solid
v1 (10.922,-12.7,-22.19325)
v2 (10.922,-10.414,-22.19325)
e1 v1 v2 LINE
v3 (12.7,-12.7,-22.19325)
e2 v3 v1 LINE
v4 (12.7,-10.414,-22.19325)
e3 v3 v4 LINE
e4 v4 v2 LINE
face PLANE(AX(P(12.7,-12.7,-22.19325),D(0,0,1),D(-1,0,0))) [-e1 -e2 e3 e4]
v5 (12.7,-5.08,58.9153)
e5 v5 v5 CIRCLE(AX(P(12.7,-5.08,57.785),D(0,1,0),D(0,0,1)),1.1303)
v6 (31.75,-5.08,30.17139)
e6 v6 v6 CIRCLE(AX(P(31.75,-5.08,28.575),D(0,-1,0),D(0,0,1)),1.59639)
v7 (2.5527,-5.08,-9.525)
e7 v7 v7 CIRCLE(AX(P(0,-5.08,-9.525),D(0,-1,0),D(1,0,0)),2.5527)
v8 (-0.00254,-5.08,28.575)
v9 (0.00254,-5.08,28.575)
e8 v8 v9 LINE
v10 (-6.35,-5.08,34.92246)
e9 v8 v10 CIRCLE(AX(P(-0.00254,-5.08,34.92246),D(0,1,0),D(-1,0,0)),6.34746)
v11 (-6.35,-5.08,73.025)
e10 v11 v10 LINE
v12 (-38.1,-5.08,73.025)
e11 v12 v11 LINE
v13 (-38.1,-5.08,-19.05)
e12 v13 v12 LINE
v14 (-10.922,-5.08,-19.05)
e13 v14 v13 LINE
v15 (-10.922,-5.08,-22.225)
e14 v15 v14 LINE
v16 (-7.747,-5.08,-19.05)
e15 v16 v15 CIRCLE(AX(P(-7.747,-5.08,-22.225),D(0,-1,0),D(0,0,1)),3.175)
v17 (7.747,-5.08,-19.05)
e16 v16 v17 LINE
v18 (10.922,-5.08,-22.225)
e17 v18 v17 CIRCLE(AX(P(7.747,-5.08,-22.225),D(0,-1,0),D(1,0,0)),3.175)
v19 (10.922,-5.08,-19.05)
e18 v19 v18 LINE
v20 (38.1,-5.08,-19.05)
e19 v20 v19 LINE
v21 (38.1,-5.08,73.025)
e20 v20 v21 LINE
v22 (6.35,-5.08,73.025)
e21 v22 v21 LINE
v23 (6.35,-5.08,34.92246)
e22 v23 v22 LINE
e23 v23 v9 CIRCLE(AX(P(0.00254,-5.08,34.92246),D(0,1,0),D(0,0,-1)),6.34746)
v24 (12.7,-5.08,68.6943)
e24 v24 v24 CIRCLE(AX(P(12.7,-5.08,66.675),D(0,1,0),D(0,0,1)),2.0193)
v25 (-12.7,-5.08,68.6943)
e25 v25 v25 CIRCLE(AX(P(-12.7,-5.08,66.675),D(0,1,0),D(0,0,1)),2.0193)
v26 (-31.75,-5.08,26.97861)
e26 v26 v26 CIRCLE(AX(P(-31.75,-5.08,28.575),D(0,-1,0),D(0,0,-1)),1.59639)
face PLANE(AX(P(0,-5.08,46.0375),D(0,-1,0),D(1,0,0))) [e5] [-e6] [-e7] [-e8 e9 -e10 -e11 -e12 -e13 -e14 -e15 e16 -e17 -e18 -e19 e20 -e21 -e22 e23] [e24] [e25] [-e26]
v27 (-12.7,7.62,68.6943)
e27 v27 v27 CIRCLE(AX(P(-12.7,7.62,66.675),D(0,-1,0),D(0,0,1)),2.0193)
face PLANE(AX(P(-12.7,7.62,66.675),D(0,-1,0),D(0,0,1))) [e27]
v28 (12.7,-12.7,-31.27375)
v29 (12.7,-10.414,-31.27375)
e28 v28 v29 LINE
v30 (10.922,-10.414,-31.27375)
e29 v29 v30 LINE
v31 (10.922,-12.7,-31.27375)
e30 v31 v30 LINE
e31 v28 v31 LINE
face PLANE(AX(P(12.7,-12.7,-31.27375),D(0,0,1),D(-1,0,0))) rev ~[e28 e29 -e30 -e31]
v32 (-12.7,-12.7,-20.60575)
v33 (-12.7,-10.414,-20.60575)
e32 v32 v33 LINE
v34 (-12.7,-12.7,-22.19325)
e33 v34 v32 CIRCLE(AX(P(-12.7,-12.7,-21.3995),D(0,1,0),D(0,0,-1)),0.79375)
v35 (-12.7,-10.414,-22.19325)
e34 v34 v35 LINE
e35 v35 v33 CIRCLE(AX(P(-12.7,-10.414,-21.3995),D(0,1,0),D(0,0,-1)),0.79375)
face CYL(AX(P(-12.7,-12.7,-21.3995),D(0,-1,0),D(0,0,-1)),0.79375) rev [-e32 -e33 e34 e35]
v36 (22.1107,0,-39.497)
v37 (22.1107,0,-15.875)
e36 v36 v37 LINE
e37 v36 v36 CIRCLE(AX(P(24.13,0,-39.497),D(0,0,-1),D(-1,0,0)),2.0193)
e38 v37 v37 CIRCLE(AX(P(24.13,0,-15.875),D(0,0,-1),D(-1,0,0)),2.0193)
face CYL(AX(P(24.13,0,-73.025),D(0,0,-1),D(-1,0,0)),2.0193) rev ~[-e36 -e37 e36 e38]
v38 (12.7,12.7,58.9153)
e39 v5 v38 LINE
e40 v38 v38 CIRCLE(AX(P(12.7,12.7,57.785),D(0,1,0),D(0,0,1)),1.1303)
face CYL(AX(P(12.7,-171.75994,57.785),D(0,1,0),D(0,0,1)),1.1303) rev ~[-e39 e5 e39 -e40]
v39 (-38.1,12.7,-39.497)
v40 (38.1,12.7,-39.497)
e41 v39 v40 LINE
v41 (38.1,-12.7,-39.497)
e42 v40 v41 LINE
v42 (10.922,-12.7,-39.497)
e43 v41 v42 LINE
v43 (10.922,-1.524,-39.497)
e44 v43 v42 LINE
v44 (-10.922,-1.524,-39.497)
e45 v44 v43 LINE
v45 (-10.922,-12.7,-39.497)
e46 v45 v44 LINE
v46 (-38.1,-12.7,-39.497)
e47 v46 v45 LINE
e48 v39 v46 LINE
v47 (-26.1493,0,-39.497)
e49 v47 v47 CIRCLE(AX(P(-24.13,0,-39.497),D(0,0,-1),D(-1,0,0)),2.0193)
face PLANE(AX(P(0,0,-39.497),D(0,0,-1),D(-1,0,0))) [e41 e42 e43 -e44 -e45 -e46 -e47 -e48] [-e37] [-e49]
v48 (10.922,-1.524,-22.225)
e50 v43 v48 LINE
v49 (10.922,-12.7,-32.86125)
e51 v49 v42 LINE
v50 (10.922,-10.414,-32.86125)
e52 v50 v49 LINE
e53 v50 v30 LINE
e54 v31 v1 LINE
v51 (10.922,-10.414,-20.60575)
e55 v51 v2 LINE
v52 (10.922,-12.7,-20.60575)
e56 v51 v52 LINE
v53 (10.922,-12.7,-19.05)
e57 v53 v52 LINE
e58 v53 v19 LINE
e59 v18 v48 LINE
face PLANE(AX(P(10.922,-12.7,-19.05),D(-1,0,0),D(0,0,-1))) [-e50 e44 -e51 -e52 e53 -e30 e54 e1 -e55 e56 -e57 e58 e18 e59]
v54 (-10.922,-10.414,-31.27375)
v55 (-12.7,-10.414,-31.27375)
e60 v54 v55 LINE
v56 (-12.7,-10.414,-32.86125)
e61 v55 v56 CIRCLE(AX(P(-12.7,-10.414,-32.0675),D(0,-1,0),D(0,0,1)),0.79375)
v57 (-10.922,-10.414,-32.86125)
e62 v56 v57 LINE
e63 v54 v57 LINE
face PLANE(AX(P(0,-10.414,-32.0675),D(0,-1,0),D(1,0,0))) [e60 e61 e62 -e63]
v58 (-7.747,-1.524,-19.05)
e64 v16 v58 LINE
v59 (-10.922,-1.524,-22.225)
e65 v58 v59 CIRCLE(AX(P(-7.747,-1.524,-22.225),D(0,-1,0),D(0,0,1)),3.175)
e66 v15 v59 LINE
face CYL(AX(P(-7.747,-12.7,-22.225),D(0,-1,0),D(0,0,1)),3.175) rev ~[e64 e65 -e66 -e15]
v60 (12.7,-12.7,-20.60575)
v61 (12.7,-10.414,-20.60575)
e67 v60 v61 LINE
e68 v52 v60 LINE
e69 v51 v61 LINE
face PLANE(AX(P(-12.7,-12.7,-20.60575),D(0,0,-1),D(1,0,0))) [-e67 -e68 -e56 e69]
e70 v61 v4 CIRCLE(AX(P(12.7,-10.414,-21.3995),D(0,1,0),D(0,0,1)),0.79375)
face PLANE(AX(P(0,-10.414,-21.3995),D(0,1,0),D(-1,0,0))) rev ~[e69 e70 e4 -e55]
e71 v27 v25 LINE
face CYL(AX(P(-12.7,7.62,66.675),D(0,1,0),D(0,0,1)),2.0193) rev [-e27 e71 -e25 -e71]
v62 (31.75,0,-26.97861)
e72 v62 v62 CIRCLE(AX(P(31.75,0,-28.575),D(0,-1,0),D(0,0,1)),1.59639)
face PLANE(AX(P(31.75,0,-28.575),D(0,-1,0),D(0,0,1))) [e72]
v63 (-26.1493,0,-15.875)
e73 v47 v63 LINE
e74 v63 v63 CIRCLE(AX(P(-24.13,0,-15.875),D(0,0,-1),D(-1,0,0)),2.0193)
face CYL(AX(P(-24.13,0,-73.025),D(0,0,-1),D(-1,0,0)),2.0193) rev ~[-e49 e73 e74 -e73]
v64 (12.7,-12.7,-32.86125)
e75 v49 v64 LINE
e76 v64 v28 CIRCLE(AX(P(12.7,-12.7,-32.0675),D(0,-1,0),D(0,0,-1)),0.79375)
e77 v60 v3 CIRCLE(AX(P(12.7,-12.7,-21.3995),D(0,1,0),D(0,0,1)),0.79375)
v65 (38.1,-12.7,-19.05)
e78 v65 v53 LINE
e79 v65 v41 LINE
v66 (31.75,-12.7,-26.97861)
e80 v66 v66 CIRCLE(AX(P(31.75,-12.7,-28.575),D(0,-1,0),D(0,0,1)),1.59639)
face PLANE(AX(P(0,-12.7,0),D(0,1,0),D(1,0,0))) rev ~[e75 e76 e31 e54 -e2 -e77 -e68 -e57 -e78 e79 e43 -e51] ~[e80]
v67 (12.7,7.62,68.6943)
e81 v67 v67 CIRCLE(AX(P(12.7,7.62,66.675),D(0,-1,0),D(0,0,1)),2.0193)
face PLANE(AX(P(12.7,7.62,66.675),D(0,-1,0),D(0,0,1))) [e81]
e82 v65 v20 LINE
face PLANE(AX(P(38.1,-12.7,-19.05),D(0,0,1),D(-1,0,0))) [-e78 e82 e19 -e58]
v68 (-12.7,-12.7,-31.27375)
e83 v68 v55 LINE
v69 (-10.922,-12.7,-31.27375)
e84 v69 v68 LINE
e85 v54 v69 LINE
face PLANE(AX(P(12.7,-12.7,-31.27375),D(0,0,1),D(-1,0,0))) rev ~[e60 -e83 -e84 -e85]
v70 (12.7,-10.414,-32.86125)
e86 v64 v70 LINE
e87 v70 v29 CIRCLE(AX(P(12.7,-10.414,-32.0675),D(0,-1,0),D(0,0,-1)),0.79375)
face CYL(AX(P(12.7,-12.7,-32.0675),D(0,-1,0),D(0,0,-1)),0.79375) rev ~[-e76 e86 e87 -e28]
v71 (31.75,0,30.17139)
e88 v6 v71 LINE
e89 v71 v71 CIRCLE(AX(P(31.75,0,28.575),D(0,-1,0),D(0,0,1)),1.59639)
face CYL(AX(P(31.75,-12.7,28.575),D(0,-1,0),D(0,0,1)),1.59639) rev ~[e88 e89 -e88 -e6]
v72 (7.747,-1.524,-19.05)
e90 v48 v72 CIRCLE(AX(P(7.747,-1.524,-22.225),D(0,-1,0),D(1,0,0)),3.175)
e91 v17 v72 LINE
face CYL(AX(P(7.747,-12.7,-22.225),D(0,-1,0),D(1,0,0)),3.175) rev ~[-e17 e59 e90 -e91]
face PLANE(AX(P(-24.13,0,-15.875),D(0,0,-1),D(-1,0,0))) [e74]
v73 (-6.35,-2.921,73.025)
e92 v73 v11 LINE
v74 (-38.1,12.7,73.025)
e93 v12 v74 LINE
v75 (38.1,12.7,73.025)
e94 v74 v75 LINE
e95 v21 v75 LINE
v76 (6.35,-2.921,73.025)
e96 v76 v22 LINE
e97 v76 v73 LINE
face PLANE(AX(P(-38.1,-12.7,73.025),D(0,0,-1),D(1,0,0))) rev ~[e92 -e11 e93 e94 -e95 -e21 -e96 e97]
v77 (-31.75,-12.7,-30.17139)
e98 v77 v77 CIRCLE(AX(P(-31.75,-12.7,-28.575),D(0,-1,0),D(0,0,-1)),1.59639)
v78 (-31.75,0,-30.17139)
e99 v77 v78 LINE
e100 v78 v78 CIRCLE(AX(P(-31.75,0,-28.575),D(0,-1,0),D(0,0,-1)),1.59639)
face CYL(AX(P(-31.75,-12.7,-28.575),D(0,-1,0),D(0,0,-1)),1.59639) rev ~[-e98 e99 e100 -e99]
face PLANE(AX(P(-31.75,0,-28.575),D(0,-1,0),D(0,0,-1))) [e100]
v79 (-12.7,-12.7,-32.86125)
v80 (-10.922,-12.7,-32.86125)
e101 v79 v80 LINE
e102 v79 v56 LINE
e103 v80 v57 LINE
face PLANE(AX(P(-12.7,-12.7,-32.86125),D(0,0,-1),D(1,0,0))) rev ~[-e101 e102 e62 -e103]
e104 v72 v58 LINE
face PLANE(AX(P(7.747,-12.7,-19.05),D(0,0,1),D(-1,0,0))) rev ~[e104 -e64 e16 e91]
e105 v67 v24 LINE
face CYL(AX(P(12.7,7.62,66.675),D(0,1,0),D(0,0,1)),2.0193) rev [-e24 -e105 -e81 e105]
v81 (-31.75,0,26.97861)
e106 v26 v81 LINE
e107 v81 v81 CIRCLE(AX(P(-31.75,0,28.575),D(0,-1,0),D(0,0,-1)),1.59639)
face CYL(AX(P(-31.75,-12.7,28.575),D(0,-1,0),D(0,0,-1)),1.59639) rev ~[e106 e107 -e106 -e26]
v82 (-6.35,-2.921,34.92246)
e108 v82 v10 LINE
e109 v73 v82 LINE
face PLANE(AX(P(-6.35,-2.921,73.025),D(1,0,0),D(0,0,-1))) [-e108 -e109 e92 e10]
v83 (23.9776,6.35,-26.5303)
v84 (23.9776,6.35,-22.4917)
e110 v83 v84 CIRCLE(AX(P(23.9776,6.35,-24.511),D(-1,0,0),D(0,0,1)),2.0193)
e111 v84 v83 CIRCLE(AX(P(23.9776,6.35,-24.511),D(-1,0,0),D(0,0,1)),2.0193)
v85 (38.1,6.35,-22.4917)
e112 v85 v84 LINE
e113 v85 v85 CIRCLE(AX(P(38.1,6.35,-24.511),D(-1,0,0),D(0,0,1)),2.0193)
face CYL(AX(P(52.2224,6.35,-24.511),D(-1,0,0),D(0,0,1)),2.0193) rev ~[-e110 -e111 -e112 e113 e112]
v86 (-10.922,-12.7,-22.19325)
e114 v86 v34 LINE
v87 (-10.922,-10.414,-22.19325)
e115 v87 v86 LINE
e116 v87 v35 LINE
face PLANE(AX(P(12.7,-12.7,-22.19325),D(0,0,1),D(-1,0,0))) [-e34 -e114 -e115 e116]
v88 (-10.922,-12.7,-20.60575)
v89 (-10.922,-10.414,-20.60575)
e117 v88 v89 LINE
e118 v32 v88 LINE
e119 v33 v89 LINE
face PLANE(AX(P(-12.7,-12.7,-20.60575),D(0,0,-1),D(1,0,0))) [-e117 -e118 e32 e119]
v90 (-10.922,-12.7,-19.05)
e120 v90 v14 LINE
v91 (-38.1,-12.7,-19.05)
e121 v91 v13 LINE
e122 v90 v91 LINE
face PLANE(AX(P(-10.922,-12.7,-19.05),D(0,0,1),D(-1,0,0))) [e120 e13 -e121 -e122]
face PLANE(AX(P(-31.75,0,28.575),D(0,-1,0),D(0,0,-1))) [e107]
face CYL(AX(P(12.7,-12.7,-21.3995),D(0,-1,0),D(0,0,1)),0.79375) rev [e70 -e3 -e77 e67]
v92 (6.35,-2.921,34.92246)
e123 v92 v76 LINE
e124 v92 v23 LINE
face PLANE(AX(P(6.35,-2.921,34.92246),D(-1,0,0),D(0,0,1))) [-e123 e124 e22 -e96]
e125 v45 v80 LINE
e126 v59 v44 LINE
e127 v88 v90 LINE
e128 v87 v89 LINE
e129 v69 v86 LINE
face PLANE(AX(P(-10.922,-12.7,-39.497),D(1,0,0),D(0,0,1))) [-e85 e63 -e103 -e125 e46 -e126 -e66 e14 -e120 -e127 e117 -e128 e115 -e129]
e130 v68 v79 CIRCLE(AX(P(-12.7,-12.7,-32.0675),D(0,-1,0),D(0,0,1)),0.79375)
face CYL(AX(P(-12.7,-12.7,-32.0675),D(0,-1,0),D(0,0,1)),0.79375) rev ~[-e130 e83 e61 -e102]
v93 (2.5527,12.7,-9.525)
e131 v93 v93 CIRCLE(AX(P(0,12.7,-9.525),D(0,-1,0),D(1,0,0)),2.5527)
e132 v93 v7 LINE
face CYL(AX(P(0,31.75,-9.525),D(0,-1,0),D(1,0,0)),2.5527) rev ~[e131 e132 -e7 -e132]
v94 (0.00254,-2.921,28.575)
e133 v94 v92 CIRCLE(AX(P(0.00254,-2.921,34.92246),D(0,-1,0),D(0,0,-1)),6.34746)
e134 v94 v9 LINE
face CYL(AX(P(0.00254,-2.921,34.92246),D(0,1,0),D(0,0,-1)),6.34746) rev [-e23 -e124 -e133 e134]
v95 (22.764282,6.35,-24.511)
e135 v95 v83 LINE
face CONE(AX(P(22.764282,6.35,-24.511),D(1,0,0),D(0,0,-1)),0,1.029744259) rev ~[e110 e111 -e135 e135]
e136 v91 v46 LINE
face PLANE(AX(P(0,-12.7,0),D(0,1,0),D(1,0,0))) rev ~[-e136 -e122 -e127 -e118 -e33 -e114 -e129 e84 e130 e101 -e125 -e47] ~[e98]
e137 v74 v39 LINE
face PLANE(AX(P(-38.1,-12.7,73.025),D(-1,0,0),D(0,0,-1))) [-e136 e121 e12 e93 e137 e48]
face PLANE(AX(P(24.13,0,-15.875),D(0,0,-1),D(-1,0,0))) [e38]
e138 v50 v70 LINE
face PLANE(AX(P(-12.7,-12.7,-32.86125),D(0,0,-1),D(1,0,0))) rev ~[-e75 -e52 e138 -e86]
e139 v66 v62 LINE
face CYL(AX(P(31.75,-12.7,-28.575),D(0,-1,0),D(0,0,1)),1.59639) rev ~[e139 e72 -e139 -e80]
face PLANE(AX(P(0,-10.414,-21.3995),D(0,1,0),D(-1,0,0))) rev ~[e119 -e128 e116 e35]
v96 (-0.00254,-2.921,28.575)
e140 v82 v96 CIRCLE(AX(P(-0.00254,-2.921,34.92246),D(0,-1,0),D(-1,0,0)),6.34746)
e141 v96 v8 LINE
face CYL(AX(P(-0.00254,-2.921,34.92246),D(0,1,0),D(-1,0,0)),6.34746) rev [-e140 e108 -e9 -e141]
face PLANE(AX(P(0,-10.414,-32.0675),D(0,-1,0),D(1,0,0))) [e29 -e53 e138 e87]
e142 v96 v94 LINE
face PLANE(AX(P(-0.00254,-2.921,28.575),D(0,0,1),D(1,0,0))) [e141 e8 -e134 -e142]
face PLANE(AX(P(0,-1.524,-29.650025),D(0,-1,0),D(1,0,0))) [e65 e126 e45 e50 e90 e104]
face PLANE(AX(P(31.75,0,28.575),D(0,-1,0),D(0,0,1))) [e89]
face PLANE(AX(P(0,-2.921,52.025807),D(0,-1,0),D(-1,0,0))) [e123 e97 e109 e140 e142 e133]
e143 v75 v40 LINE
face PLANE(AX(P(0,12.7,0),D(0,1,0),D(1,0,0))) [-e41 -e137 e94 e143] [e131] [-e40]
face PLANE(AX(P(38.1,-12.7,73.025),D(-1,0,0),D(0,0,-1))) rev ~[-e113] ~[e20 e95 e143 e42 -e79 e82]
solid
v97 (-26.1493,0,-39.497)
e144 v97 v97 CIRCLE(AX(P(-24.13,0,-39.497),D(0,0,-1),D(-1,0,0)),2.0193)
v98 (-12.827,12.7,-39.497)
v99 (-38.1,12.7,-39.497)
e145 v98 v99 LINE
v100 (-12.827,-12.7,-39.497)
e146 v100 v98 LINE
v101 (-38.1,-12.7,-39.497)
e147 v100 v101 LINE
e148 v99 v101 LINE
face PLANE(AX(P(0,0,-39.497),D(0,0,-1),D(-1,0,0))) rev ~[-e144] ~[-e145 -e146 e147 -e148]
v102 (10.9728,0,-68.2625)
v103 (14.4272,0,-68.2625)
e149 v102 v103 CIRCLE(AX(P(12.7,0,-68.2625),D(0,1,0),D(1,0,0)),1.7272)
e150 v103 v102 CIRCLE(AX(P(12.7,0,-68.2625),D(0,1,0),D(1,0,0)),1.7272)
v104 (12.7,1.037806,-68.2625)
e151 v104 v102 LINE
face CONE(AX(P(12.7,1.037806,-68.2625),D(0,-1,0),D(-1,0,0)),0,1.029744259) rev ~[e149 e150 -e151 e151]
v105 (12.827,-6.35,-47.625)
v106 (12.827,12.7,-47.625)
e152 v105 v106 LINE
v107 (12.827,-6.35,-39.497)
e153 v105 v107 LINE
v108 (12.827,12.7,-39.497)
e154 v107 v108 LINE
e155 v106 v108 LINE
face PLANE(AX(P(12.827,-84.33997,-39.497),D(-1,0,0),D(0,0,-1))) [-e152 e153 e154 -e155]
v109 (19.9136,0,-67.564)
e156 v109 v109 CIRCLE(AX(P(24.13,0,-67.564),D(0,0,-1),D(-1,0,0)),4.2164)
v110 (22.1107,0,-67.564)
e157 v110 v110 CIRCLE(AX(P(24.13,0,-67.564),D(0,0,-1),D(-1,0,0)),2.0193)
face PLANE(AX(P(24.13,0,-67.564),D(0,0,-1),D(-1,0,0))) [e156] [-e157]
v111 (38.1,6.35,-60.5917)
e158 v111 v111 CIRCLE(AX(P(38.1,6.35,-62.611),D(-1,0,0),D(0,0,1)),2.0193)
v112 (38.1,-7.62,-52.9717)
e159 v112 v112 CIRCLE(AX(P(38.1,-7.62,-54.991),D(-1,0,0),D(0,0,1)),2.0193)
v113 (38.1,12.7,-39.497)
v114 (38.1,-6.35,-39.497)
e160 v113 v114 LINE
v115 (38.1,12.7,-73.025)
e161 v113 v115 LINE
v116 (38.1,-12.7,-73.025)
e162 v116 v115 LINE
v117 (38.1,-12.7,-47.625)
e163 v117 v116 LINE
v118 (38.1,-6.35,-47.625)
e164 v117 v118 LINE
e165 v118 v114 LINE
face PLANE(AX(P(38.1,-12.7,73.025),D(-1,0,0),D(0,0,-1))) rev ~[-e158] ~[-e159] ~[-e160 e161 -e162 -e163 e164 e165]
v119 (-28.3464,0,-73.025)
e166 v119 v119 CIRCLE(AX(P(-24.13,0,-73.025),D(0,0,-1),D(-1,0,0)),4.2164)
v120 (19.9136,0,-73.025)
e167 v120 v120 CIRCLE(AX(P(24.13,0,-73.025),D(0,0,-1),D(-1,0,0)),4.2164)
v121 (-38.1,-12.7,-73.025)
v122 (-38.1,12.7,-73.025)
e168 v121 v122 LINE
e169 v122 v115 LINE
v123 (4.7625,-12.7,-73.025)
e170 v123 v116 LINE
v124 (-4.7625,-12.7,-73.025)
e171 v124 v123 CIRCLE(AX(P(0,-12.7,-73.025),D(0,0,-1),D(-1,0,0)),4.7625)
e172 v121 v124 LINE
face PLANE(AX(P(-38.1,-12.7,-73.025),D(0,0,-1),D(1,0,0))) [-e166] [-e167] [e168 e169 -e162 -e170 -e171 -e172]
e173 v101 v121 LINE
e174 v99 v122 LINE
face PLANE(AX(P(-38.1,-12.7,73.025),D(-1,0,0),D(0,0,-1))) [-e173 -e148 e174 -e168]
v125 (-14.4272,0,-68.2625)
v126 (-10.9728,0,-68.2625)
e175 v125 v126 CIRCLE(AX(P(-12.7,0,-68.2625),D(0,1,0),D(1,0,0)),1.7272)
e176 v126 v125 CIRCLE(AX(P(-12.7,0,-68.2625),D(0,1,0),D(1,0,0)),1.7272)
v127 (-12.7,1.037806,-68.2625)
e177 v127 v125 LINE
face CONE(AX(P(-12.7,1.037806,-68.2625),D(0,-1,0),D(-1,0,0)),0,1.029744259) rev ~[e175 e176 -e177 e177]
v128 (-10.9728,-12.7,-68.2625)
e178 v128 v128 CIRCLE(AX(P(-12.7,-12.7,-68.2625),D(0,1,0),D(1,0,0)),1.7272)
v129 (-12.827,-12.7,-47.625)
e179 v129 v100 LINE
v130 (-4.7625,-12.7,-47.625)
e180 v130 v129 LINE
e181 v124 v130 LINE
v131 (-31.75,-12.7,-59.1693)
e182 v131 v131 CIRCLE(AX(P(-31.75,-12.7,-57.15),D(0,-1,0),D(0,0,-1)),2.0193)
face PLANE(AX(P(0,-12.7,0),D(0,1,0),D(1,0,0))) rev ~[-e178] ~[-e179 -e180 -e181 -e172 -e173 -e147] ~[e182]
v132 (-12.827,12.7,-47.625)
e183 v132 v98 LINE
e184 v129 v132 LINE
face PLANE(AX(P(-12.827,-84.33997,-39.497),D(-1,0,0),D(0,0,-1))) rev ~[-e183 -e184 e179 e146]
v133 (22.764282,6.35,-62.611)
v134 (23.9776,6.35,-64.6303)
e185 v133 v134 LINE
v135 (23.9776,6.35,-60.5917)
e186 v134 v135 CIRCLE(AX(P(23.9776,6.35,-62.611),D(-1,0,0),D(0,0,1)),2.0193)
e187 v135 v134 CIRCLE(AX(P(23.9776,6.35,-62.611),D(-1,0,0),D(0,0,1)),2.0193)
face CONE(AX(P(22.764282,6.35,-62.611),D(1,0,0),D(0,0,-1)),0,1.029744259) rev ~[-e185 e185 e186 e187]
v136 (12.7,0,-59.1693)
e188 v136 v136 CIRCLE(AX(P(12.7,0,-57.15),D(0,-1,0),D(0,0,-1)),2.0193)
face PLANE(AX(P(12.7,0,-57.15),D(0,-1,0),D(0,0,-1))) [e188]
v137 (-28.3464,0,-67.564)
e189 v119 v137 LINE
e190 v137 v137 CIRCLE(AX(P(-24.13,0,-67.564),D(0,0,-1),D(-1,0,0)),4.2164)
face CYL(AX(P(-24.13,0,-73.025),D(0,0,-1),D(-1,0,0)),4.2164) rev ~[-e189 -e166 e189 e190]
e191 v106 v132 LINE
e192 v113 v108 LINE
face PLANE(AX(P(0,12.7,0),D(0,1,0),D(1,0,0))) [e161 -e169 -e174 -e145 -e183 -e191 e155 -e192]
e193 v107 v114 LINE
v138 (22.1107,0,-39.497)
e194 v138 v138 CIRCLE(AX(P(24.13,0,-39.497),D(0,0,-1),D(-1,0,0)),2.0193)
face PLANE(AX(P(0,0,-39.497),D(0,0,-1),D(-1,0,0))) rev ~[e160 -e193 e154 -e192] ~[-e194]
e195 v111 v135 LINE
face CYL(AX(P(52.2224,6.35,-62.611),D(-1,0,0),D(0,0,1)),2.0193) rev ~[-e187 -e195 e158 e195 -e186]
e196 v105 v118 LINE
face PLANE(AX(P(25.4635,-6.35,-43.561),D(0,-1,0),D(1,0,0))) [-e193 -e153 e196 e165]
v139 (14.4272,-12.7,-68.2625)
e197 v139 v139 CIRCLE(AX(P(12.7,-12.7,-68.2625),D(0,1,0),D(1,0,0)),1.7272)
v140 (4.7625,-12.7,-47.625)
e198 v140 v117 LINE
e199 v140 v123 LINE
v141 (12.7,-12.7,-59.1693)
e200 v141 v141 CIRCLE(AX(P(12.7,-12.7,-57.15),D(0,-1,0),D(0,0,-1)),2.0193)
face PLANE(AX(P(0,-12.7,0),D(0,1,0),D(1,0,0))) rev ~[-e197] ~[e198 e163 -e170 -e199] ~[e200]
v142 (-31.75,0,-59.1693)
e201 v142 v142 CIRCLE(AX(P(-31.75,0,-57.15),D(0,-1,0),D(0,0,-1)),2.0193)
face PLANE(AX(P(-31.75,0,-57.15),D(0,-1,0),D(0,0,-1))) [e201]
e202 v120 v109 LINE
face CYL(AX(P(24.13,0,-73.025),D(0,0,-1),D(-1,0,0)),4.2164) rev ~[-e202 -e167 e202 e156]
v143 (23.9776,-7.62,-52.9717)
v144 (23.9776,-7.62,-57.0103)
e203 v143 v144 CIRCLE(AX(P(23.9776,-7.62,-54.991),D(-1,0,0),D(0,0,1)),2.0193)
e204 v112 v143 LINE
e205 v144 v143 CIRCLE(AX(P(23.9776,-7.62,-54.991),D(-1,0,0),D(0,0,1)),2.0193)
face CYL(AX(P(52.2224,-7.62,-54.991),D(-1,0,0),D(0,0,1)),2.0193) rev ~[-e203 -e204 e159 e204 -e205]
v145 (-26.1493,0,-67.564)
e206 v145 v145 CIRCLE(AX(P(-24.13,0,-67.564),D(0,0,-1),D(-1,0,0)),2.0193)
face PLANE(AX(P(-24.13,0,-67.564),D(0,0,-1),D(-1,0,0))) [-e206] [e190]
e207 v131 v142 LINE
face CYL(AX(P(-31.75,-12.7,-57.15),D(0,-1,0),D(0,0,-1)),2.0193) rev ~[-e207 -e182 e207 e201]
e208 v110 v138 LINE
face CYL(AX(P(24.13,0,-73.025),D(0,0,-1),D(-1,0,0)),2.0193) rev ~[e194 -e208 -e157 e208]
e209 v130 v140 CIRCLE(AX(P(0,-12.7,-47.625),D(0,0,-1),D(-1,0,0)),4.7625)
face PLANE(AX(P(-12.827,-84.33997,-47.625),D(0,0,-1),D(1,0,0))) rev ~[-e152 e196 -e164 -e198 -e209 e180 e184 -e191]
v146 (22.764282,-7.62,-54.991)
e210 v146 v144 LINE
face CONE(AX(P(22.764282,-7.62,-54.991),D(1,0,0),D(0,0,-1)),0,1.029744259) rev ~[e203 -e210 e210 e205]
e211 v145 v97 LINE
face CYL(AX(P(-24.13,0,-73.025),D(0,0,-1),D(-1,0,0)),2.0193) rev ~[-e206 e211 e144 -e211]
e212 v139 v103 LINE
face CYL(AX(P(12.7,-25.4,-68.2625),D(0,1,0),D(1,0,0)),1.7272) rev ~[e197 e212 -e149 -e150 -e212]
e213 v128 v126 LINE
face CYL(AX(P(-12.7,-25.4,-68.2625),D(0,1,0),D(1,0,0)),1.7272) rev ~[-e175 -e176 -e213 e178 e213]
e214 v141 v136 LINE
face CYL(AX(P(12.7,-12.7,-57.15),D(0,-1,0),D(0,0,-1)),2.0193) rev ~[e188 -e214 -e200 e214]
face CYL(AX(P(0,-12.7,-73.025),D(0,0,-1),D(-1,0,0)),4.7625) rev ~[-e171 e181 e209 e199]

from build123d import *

# Parameters (mm, degrees)
BOSS_EXTRUDE1_DEPTH         = 12.7
BOSS_EXTRUDE1_DEPTH_BACK    = 12.7
SKETCH1_W                   = 76.2
SKETCH1_H                   = 146.05
SKETCH2_R                   = 4.7625
CUT_EXTRUDE1_DEPTH          = 25.4
CUT_EXTRUDE2_DEPTH          = 7.62
CUT_EXTRUDE4_DEPTH          = 84.339970152
CUT_EXTRUDE4_DEPTH_BACK     = 84.339970152
SKETCH5_W                   = 25.654
SKETCH5_H                   = 8.128
F_1_4_20_TAPPED_HOLE1_D     = 5.1054
F_1_4_20_TAPPED_HOLE1_DEPTH = 19.05
F_1_4_20_TAPPED_HOLE1_TIP   = 1.533816902
SKETCH9_R                   = 1.59639
F_8_32_TAPPED_HOLE_DEPTH    = 12.7
CUT_EXTRUDE7_DEPTH          = 85.263806139
CUT_EXTRUDE7_DEPTH_BACK     = 2.159
CUT_EXTRUDE8_DEPTH          = 85.263806139
CUT_EXTRUDE8_DEPTH_BACK     = 12.7
SKETCH12_R                  = 2.0193
SKETCH13_W                  = 25.273
SKETCH13_H                  = 8.128
CUT_EXTRUDE9_DEPTH          = 6.35
SKETCH15_R                  = 2.0193
CUT_EXTRUDE11_DEPTH         = 57.15
SKETCH17_R                  = 4.2164
CUT_EXTRUDE12_DEPTH         = 5.461
SKETCH19_R                  = 2.0193
CUT_EXTRUDE14_DEPTH         = 12.7
CUT_EXTRUDE16_DEPTH         = 2.286
CUT_EXTRUDE18_DEPTH         = 11.176
F_10_32_TAPPED_HOLE1_D      = 4.0386
F_10_32_TAPPED_HOLE1_DEPTH  = 14.1224
F_10_32_TAPPED_HOLE1_TIP    = 1.213317848
SKETCH31_W                  = 76.2
SKETCH31_H                  = 53.975
CUT_EXTRUDE20_DEPTH         = 7.62
F_4_40_TAPPED_HOLE1_D       = 2.2606
F_8_32_TAPPED_HOLE1_D       = 3.4544
F_8_32_TAPPED_HOLE1_DEPTH   = 12.7
F_8_32_TAPPED_HOLE1_TIP     = 1.037806461


with BuildPart() as part:
    # Sketch1 → Boss-Extrude1 (new, two sides: drawn at the far end of the back side and taken through both)
    with BuildSketch(Plane(origin=(0, 0, 0), x_dir=(1, 0, 0), z_dir=(0, 1, 0)).offset(-BOSS_EXTRUDE1_DEPTH_BACK)):
        Rectangle(SKETCH1_W, SKETCH1_H)
    extrude(amount=BOSS_EXTRUDE1_DEPTH + BOSS_EXTRUDE1_DEPTH_BACK)

    # Sketch2 → Cut-Extrude1 (cut)
    with BuildSketch(Plane(origin=(0, 0, -73.025), x_dir=(-1, 0, 0), z_dir=(0, 0, -1))):
        with Locations((0, -12.7)):
            Circle(SKETCH2_R)
    extrude(amount=-CUT_EXTRUDE1_DEPTH, mode=Mode.SUBTRACT)

    # Sketch3 → Cut-Extrude2 (cut)
    with BuildSketch(Plane(origin=(0, -12.7, 0), x_dir=(-1, 0, 0), z_dir=(0, -1, 0))):
        Polygon((10.922, 19.05), (38.1, 19.05), (38.1, -19.05), (31.75, -19.05), (-31.75, -19.05), (-38.1, -19.05), (-38.1, 19.05), (-10.922, 19.05), (-10.922, 39.497), (10.922, 39.497), align=None)
    extrude(amount=-CUT_EXTRUDE2_DEPTH, mode=Mode.SUBTRACT)

    # Sketch5 → Cut-Extrude4 (cut, two sides: drawn at the far end of the back side and taken through both)
    with BuildSketch(Plane(origin=(0, 0, 0), x_dir=(1, 0, 0), z_dir=(0, 1, 0)).offset(-CUT_EXTRUDE4_DEPTH_BACK)):
        with Locations((0, 43.561)):
            Rectangle(SKETCH5_W, SKETCH5_H)
    extrude(amount=CUT_EXTRUDE4_DEPTH + CUT_EXTRUDE4_DEPTH_BACK, mode=Mode.SUBTRACT)

    # 1/4-20 Tapped Hole1
    with Locations(Plane(origin=(-11.034450397, 12.7, 14.547513529), x_dir=(-1, 0, 0), z_dir=(0, 1, 0))):
        with Locations((-11.034450397, -24.072513529)):
            Hole(F_1_4_20_TAPPED_HOLE1_D / 2, depth=F_1_4_20_TAPPED_HOLE1_DEPTH)
            with Locations((0, 0, -(F_1_4_20_TAPPED_HOLE1_DEPTH + F_1_4_20_TAPPED_HOLE1_TIP / 2))):  # 118° drill point
                Cone(0, F_1_4_20_TAPPED_HOLE1_D / 2, F_1_4_20_TAPPED_HOLE1_TIP, mode=Mode.SUBTRACT)

    # Sketch9 → 8-32 Tapped Hole (cut)
    with BuildSketch(Plane(origin=(0, -12.7, 0), x_dir=(-1, 0, 0), z_dir=(0, -1, 0))):
        with Locations(Location((31.75, 28.575, 0), (0, 0, 90))):
            Circle(SKETCH9_R)
        with Locations(Location((31.75, -28.575, 0), (0, 0, 90))):
            Circle(SKETCH9_R)
        with Locations(Location((-31.75, -28.575, 0), (0, 0, 270))):
            Circle(SKETCH9_R)
        with Locations(Location((-31.75, 28.575, 0), (0, 0, 270))):
            Circle(SKETCH9_R)
    extrude(amount=-F_8_32_TAPPED_HOLE_DEPTH, mode=Mode.SUBTRACT)

    # Sketch11 → Cut-Extrude7 (cut, two sides: drawn at the far end of the back side and taken through both)
    with BuildSketch(Plane(origin=(0, -5.08, 0), x_dir=(-1, 0, 0), z_dir=(0, -1, 0)).offset(-CUT_EXTRUDE7_DEPTH_BACK)):
        with BuildLine():
            Line((0.00254, -28.575), (-0.00254, -28.575))
            ThreePointArc((-0.00254, -28.575), (-4.490872009, -30.434127991), (-6.35, -34.92246))
            Line((-6.35, -34.92246), (-6.35, -73.025))
            Line((-6.35, -73.025), (6.35, -73.025))
            Line((6.35, -73.025), (6.35, -34.92246))
            ThreePointArc((6.35, -34.92246), (4.490872009, -30.434127991), (0.00254, -28.575))
        make_face()
    extrude(amount=CUT_EXTRUDE7_DEPTH + CUT_EXTRUDE7_DEPTH_BACK, mode=Mode.SUBTRACT)

    # Sketch12 → Cut-Extrude8 (cut, two sides: drawn at the far end of the back side and taken through both)
    with BuildSketch(Plane.XZ.offset(5.08).offset(-CUT_EXTRUDE8_DEPTH_BACK)):
        with Locations(Location((12.7, 66.675, 0), (0, 0, 90))):
            Circle(SKETCH12_R)
        with Locations(Location((-12.7, 66.675, 0), (0, 0, 90))):
            Circle(SKETCH12_R)
    extrude(amount=CUT_EXTRUDE8_DEPTH + CUT_EXTRUDE8_DEPTH_BACK, mode=Mode.SUBTRACT)

    # Sketch13 → Cut-Extrude9 (cut)
    with BuildSketch(Plane.XZ.offset(12.7)):
        with Locations((25.4635, -43.561)):
            Rectangle(SKETCH13_W, SKETCH13_H)
    extrude(amount=-CUT_EXTRUDE9_DEPTH, mode=Mode.SUBTRACT)

    # Sketch15 → Cut-Extrude11 (cut)
    with BuildSketch(Plane(origin=(0, 0, -73.025), x_dir=(-1, 0, 0), z_dir=(0, 0, -1))):
        with Locations((-24.13, 0)):
            Circle(SKETCH15_R)
        with Locations((24.13, 0)):
            Circle(SKETCH15_R)
    extrude(amount=-CUT_EXTRUDE11_DEPTH, mode=Mode.SUBTRACT)

    # Sketch17 → Cut-Extrude12 (cut)
    with BuildSketch(Plane(origin=(0, 0, -73.025), x_dir=(-1, 0, 0), z_dir=(0, 0, -1))):
        with Locations((-24.13, 0)):
            Circle(SKETCH17_R)
        with Locations((24.13, 0)):
            Circle(SKETCH17_R)
    extrude(amount=-CUT_EXTRUDE12_DEPTH, mode=Mode.SUBTRACT)

    # Sketch19 → Cut-Extrude14 (cut)
    with BuildSketch(Plane.XZ.offset(12.7)):
        with Locations(Location((-31.75, -57.15, 0), (0, 0, 270))):
            Circle(SKETCH19_R)
        with Locations(Location((12.7, -57.15, 0), (0, 0, 270))):
            Circle(SKETCH19_R)
    extrude(amount=-CUT_EXTRUDE14_DEPTH, mode=Mode.SUBTRACT)

    # Sketch22 → Cut-Extrude16 (cut)
    with BuildSketch(Plane.XZ.offset(12.7)):
        with BuildLine():
            Line((-12.7, -32.86125), (12.7, -32.86125))
            ThreePointArc((12.7, -32.86125), (13.49375, -32.0675), (12.7, -31.27375))
            Line((12.7, -31.27375), (-12.7, -31.27375))
            ThreePointArc((-12.7, -31.27375), (-13.49375, -32.0675), (-12.7, -32.86125))
        make_face()
        with BuildLine():
            Line((-12.7, -20.60575), (12.7, -20.60575))
            ThreePointArc((12.7, -20.60575), (13.49375, -21.3995), (12.7, -22.19325))
            Line((12.7, -22.19325), (-12.7, -22.19325))
            ThreePointArc((-12.7, -22.19325), (-13.49375, -21.3995), (-12.7, -20.60575))
        make_face()
    extrude(amount=-CUT_EXTRUDE16_DEPTH, mode=Mode.SUBTRACT)

    # Sketch23 → Cut-Extrude18 (cut)
    with BuildSketch(Plane.XZ.offset(12.7)):
        with BuildLine():
            Line((-10.922, -39.497), (10.922, -39.497))
            Line((10.922, -39.497), (10.922, -22.225))
            ThreePointArc((10.922, -22.225), (9.99206403, -19.97993597), (7.747, -19.05))
            Line((7.747, -19.05), (-7.747, -19.05))
            ThreePointArc((-7.747, -19.05), (-9.99206403, -19.97993597), (-10.922, -22.225))
            Line((-10.922, -22.225), (-10.922, -39.497))
        make_face()
    extrude(amount=-CUT_EXTRUDE18_DEPTH, mode=Mode.SUBTRACT)

    # #10-32 Tapped Hole1
    with Locations(Plane(origin=(38.1, 0, 0), x_dir=(0, 0, -1), z_dir=(1, 0, 0))):
        with Locations((62.611, 6.35), (54.991, -7.62), (24.511, 6.35)):
            Hole(F_10_32_TAPPED_HOLE1_D / 2, depth=F_10_32_TAPPED_HOLE1_DEPTH)
            with Locations((0, 0, -(F_10_32_TAPPED_HOLE1_DEPTH + F_10_32_TAPPED_HOLE1_TIP / 2))):  # 118° drill point
                Cone(0, F_10_32_TAPPED_HOLE1_D / 2, F_10_32_TAPPED_HOLE1_TIP, mode=Mode.SUBTRACT)

    # Sketch31 → Cut-Extrude20 (cut)
    with BuildSketch(Plane.XZ.offset(12.7)):
        with Locations((0, 46.0375)):
            Rectangle(SKETCH31_W, SKETCH31_H)
    extrude(amount=-CUT_EXTRUDE20_DEPTH, mode=Mode.SUBTRACT)

    # #4-40 Tapped Hole1 (through all)
    with Locations(Plane(origin=(12.7, -5.08, 57.785), x_dir=(0, 0, -1), z_dir=(0, -1, 0))):
        with Locations((0, 0)):
            Hole(F_4_40_TAPPED_HOLE1_D / 2)

    # #8-32 Tapped Hole1
    with Locations(Plane(origin=(0, -12.7, 0), x_dir=(-1, 0, 0), z_dir=(0, -1, 0))):
        with Locations((-12.7, 68.2625), (12.7, 68.2625)):
            Hole(F_8_32_TAPPED_HOLE1_D / 2, depth=F_8_32_TAPPED_HOLE1_DEPTH)
            with Locations((0, 0, -(F_8_32_TAPPED_HOLE1_DEPTH + F_8_32_TAPPED_HOLE1_TIP / 2))):  # 118° drill point
                Cone(0, F_8_32_TAPPED_HOLE1_D / 2, F_8_32_TAPPED_HOLE1_TIP, mode=Mode.SUBTRACT)


with BuildPart() as body_2:
    # Split1: the piece on the far side of the plane
    add(part.part)
    split(bisect_by=Plane(origin=(0, 0, -39.497), x_dir=(-1, 0, 0), z_dir=(0, 0, -1)), keep=Keep.BOTTOM)


with BuildPart() as part_1:
    add(part.part)

    # Split1
    split(bisect_by=Plane(origin=(0, 0, -39.497), x_dir=(-1, 0, 0), z_dir=(0, 0, -1)), keep=Keep.TOP)


solid = Compound([body_2.part, part_1.part])
